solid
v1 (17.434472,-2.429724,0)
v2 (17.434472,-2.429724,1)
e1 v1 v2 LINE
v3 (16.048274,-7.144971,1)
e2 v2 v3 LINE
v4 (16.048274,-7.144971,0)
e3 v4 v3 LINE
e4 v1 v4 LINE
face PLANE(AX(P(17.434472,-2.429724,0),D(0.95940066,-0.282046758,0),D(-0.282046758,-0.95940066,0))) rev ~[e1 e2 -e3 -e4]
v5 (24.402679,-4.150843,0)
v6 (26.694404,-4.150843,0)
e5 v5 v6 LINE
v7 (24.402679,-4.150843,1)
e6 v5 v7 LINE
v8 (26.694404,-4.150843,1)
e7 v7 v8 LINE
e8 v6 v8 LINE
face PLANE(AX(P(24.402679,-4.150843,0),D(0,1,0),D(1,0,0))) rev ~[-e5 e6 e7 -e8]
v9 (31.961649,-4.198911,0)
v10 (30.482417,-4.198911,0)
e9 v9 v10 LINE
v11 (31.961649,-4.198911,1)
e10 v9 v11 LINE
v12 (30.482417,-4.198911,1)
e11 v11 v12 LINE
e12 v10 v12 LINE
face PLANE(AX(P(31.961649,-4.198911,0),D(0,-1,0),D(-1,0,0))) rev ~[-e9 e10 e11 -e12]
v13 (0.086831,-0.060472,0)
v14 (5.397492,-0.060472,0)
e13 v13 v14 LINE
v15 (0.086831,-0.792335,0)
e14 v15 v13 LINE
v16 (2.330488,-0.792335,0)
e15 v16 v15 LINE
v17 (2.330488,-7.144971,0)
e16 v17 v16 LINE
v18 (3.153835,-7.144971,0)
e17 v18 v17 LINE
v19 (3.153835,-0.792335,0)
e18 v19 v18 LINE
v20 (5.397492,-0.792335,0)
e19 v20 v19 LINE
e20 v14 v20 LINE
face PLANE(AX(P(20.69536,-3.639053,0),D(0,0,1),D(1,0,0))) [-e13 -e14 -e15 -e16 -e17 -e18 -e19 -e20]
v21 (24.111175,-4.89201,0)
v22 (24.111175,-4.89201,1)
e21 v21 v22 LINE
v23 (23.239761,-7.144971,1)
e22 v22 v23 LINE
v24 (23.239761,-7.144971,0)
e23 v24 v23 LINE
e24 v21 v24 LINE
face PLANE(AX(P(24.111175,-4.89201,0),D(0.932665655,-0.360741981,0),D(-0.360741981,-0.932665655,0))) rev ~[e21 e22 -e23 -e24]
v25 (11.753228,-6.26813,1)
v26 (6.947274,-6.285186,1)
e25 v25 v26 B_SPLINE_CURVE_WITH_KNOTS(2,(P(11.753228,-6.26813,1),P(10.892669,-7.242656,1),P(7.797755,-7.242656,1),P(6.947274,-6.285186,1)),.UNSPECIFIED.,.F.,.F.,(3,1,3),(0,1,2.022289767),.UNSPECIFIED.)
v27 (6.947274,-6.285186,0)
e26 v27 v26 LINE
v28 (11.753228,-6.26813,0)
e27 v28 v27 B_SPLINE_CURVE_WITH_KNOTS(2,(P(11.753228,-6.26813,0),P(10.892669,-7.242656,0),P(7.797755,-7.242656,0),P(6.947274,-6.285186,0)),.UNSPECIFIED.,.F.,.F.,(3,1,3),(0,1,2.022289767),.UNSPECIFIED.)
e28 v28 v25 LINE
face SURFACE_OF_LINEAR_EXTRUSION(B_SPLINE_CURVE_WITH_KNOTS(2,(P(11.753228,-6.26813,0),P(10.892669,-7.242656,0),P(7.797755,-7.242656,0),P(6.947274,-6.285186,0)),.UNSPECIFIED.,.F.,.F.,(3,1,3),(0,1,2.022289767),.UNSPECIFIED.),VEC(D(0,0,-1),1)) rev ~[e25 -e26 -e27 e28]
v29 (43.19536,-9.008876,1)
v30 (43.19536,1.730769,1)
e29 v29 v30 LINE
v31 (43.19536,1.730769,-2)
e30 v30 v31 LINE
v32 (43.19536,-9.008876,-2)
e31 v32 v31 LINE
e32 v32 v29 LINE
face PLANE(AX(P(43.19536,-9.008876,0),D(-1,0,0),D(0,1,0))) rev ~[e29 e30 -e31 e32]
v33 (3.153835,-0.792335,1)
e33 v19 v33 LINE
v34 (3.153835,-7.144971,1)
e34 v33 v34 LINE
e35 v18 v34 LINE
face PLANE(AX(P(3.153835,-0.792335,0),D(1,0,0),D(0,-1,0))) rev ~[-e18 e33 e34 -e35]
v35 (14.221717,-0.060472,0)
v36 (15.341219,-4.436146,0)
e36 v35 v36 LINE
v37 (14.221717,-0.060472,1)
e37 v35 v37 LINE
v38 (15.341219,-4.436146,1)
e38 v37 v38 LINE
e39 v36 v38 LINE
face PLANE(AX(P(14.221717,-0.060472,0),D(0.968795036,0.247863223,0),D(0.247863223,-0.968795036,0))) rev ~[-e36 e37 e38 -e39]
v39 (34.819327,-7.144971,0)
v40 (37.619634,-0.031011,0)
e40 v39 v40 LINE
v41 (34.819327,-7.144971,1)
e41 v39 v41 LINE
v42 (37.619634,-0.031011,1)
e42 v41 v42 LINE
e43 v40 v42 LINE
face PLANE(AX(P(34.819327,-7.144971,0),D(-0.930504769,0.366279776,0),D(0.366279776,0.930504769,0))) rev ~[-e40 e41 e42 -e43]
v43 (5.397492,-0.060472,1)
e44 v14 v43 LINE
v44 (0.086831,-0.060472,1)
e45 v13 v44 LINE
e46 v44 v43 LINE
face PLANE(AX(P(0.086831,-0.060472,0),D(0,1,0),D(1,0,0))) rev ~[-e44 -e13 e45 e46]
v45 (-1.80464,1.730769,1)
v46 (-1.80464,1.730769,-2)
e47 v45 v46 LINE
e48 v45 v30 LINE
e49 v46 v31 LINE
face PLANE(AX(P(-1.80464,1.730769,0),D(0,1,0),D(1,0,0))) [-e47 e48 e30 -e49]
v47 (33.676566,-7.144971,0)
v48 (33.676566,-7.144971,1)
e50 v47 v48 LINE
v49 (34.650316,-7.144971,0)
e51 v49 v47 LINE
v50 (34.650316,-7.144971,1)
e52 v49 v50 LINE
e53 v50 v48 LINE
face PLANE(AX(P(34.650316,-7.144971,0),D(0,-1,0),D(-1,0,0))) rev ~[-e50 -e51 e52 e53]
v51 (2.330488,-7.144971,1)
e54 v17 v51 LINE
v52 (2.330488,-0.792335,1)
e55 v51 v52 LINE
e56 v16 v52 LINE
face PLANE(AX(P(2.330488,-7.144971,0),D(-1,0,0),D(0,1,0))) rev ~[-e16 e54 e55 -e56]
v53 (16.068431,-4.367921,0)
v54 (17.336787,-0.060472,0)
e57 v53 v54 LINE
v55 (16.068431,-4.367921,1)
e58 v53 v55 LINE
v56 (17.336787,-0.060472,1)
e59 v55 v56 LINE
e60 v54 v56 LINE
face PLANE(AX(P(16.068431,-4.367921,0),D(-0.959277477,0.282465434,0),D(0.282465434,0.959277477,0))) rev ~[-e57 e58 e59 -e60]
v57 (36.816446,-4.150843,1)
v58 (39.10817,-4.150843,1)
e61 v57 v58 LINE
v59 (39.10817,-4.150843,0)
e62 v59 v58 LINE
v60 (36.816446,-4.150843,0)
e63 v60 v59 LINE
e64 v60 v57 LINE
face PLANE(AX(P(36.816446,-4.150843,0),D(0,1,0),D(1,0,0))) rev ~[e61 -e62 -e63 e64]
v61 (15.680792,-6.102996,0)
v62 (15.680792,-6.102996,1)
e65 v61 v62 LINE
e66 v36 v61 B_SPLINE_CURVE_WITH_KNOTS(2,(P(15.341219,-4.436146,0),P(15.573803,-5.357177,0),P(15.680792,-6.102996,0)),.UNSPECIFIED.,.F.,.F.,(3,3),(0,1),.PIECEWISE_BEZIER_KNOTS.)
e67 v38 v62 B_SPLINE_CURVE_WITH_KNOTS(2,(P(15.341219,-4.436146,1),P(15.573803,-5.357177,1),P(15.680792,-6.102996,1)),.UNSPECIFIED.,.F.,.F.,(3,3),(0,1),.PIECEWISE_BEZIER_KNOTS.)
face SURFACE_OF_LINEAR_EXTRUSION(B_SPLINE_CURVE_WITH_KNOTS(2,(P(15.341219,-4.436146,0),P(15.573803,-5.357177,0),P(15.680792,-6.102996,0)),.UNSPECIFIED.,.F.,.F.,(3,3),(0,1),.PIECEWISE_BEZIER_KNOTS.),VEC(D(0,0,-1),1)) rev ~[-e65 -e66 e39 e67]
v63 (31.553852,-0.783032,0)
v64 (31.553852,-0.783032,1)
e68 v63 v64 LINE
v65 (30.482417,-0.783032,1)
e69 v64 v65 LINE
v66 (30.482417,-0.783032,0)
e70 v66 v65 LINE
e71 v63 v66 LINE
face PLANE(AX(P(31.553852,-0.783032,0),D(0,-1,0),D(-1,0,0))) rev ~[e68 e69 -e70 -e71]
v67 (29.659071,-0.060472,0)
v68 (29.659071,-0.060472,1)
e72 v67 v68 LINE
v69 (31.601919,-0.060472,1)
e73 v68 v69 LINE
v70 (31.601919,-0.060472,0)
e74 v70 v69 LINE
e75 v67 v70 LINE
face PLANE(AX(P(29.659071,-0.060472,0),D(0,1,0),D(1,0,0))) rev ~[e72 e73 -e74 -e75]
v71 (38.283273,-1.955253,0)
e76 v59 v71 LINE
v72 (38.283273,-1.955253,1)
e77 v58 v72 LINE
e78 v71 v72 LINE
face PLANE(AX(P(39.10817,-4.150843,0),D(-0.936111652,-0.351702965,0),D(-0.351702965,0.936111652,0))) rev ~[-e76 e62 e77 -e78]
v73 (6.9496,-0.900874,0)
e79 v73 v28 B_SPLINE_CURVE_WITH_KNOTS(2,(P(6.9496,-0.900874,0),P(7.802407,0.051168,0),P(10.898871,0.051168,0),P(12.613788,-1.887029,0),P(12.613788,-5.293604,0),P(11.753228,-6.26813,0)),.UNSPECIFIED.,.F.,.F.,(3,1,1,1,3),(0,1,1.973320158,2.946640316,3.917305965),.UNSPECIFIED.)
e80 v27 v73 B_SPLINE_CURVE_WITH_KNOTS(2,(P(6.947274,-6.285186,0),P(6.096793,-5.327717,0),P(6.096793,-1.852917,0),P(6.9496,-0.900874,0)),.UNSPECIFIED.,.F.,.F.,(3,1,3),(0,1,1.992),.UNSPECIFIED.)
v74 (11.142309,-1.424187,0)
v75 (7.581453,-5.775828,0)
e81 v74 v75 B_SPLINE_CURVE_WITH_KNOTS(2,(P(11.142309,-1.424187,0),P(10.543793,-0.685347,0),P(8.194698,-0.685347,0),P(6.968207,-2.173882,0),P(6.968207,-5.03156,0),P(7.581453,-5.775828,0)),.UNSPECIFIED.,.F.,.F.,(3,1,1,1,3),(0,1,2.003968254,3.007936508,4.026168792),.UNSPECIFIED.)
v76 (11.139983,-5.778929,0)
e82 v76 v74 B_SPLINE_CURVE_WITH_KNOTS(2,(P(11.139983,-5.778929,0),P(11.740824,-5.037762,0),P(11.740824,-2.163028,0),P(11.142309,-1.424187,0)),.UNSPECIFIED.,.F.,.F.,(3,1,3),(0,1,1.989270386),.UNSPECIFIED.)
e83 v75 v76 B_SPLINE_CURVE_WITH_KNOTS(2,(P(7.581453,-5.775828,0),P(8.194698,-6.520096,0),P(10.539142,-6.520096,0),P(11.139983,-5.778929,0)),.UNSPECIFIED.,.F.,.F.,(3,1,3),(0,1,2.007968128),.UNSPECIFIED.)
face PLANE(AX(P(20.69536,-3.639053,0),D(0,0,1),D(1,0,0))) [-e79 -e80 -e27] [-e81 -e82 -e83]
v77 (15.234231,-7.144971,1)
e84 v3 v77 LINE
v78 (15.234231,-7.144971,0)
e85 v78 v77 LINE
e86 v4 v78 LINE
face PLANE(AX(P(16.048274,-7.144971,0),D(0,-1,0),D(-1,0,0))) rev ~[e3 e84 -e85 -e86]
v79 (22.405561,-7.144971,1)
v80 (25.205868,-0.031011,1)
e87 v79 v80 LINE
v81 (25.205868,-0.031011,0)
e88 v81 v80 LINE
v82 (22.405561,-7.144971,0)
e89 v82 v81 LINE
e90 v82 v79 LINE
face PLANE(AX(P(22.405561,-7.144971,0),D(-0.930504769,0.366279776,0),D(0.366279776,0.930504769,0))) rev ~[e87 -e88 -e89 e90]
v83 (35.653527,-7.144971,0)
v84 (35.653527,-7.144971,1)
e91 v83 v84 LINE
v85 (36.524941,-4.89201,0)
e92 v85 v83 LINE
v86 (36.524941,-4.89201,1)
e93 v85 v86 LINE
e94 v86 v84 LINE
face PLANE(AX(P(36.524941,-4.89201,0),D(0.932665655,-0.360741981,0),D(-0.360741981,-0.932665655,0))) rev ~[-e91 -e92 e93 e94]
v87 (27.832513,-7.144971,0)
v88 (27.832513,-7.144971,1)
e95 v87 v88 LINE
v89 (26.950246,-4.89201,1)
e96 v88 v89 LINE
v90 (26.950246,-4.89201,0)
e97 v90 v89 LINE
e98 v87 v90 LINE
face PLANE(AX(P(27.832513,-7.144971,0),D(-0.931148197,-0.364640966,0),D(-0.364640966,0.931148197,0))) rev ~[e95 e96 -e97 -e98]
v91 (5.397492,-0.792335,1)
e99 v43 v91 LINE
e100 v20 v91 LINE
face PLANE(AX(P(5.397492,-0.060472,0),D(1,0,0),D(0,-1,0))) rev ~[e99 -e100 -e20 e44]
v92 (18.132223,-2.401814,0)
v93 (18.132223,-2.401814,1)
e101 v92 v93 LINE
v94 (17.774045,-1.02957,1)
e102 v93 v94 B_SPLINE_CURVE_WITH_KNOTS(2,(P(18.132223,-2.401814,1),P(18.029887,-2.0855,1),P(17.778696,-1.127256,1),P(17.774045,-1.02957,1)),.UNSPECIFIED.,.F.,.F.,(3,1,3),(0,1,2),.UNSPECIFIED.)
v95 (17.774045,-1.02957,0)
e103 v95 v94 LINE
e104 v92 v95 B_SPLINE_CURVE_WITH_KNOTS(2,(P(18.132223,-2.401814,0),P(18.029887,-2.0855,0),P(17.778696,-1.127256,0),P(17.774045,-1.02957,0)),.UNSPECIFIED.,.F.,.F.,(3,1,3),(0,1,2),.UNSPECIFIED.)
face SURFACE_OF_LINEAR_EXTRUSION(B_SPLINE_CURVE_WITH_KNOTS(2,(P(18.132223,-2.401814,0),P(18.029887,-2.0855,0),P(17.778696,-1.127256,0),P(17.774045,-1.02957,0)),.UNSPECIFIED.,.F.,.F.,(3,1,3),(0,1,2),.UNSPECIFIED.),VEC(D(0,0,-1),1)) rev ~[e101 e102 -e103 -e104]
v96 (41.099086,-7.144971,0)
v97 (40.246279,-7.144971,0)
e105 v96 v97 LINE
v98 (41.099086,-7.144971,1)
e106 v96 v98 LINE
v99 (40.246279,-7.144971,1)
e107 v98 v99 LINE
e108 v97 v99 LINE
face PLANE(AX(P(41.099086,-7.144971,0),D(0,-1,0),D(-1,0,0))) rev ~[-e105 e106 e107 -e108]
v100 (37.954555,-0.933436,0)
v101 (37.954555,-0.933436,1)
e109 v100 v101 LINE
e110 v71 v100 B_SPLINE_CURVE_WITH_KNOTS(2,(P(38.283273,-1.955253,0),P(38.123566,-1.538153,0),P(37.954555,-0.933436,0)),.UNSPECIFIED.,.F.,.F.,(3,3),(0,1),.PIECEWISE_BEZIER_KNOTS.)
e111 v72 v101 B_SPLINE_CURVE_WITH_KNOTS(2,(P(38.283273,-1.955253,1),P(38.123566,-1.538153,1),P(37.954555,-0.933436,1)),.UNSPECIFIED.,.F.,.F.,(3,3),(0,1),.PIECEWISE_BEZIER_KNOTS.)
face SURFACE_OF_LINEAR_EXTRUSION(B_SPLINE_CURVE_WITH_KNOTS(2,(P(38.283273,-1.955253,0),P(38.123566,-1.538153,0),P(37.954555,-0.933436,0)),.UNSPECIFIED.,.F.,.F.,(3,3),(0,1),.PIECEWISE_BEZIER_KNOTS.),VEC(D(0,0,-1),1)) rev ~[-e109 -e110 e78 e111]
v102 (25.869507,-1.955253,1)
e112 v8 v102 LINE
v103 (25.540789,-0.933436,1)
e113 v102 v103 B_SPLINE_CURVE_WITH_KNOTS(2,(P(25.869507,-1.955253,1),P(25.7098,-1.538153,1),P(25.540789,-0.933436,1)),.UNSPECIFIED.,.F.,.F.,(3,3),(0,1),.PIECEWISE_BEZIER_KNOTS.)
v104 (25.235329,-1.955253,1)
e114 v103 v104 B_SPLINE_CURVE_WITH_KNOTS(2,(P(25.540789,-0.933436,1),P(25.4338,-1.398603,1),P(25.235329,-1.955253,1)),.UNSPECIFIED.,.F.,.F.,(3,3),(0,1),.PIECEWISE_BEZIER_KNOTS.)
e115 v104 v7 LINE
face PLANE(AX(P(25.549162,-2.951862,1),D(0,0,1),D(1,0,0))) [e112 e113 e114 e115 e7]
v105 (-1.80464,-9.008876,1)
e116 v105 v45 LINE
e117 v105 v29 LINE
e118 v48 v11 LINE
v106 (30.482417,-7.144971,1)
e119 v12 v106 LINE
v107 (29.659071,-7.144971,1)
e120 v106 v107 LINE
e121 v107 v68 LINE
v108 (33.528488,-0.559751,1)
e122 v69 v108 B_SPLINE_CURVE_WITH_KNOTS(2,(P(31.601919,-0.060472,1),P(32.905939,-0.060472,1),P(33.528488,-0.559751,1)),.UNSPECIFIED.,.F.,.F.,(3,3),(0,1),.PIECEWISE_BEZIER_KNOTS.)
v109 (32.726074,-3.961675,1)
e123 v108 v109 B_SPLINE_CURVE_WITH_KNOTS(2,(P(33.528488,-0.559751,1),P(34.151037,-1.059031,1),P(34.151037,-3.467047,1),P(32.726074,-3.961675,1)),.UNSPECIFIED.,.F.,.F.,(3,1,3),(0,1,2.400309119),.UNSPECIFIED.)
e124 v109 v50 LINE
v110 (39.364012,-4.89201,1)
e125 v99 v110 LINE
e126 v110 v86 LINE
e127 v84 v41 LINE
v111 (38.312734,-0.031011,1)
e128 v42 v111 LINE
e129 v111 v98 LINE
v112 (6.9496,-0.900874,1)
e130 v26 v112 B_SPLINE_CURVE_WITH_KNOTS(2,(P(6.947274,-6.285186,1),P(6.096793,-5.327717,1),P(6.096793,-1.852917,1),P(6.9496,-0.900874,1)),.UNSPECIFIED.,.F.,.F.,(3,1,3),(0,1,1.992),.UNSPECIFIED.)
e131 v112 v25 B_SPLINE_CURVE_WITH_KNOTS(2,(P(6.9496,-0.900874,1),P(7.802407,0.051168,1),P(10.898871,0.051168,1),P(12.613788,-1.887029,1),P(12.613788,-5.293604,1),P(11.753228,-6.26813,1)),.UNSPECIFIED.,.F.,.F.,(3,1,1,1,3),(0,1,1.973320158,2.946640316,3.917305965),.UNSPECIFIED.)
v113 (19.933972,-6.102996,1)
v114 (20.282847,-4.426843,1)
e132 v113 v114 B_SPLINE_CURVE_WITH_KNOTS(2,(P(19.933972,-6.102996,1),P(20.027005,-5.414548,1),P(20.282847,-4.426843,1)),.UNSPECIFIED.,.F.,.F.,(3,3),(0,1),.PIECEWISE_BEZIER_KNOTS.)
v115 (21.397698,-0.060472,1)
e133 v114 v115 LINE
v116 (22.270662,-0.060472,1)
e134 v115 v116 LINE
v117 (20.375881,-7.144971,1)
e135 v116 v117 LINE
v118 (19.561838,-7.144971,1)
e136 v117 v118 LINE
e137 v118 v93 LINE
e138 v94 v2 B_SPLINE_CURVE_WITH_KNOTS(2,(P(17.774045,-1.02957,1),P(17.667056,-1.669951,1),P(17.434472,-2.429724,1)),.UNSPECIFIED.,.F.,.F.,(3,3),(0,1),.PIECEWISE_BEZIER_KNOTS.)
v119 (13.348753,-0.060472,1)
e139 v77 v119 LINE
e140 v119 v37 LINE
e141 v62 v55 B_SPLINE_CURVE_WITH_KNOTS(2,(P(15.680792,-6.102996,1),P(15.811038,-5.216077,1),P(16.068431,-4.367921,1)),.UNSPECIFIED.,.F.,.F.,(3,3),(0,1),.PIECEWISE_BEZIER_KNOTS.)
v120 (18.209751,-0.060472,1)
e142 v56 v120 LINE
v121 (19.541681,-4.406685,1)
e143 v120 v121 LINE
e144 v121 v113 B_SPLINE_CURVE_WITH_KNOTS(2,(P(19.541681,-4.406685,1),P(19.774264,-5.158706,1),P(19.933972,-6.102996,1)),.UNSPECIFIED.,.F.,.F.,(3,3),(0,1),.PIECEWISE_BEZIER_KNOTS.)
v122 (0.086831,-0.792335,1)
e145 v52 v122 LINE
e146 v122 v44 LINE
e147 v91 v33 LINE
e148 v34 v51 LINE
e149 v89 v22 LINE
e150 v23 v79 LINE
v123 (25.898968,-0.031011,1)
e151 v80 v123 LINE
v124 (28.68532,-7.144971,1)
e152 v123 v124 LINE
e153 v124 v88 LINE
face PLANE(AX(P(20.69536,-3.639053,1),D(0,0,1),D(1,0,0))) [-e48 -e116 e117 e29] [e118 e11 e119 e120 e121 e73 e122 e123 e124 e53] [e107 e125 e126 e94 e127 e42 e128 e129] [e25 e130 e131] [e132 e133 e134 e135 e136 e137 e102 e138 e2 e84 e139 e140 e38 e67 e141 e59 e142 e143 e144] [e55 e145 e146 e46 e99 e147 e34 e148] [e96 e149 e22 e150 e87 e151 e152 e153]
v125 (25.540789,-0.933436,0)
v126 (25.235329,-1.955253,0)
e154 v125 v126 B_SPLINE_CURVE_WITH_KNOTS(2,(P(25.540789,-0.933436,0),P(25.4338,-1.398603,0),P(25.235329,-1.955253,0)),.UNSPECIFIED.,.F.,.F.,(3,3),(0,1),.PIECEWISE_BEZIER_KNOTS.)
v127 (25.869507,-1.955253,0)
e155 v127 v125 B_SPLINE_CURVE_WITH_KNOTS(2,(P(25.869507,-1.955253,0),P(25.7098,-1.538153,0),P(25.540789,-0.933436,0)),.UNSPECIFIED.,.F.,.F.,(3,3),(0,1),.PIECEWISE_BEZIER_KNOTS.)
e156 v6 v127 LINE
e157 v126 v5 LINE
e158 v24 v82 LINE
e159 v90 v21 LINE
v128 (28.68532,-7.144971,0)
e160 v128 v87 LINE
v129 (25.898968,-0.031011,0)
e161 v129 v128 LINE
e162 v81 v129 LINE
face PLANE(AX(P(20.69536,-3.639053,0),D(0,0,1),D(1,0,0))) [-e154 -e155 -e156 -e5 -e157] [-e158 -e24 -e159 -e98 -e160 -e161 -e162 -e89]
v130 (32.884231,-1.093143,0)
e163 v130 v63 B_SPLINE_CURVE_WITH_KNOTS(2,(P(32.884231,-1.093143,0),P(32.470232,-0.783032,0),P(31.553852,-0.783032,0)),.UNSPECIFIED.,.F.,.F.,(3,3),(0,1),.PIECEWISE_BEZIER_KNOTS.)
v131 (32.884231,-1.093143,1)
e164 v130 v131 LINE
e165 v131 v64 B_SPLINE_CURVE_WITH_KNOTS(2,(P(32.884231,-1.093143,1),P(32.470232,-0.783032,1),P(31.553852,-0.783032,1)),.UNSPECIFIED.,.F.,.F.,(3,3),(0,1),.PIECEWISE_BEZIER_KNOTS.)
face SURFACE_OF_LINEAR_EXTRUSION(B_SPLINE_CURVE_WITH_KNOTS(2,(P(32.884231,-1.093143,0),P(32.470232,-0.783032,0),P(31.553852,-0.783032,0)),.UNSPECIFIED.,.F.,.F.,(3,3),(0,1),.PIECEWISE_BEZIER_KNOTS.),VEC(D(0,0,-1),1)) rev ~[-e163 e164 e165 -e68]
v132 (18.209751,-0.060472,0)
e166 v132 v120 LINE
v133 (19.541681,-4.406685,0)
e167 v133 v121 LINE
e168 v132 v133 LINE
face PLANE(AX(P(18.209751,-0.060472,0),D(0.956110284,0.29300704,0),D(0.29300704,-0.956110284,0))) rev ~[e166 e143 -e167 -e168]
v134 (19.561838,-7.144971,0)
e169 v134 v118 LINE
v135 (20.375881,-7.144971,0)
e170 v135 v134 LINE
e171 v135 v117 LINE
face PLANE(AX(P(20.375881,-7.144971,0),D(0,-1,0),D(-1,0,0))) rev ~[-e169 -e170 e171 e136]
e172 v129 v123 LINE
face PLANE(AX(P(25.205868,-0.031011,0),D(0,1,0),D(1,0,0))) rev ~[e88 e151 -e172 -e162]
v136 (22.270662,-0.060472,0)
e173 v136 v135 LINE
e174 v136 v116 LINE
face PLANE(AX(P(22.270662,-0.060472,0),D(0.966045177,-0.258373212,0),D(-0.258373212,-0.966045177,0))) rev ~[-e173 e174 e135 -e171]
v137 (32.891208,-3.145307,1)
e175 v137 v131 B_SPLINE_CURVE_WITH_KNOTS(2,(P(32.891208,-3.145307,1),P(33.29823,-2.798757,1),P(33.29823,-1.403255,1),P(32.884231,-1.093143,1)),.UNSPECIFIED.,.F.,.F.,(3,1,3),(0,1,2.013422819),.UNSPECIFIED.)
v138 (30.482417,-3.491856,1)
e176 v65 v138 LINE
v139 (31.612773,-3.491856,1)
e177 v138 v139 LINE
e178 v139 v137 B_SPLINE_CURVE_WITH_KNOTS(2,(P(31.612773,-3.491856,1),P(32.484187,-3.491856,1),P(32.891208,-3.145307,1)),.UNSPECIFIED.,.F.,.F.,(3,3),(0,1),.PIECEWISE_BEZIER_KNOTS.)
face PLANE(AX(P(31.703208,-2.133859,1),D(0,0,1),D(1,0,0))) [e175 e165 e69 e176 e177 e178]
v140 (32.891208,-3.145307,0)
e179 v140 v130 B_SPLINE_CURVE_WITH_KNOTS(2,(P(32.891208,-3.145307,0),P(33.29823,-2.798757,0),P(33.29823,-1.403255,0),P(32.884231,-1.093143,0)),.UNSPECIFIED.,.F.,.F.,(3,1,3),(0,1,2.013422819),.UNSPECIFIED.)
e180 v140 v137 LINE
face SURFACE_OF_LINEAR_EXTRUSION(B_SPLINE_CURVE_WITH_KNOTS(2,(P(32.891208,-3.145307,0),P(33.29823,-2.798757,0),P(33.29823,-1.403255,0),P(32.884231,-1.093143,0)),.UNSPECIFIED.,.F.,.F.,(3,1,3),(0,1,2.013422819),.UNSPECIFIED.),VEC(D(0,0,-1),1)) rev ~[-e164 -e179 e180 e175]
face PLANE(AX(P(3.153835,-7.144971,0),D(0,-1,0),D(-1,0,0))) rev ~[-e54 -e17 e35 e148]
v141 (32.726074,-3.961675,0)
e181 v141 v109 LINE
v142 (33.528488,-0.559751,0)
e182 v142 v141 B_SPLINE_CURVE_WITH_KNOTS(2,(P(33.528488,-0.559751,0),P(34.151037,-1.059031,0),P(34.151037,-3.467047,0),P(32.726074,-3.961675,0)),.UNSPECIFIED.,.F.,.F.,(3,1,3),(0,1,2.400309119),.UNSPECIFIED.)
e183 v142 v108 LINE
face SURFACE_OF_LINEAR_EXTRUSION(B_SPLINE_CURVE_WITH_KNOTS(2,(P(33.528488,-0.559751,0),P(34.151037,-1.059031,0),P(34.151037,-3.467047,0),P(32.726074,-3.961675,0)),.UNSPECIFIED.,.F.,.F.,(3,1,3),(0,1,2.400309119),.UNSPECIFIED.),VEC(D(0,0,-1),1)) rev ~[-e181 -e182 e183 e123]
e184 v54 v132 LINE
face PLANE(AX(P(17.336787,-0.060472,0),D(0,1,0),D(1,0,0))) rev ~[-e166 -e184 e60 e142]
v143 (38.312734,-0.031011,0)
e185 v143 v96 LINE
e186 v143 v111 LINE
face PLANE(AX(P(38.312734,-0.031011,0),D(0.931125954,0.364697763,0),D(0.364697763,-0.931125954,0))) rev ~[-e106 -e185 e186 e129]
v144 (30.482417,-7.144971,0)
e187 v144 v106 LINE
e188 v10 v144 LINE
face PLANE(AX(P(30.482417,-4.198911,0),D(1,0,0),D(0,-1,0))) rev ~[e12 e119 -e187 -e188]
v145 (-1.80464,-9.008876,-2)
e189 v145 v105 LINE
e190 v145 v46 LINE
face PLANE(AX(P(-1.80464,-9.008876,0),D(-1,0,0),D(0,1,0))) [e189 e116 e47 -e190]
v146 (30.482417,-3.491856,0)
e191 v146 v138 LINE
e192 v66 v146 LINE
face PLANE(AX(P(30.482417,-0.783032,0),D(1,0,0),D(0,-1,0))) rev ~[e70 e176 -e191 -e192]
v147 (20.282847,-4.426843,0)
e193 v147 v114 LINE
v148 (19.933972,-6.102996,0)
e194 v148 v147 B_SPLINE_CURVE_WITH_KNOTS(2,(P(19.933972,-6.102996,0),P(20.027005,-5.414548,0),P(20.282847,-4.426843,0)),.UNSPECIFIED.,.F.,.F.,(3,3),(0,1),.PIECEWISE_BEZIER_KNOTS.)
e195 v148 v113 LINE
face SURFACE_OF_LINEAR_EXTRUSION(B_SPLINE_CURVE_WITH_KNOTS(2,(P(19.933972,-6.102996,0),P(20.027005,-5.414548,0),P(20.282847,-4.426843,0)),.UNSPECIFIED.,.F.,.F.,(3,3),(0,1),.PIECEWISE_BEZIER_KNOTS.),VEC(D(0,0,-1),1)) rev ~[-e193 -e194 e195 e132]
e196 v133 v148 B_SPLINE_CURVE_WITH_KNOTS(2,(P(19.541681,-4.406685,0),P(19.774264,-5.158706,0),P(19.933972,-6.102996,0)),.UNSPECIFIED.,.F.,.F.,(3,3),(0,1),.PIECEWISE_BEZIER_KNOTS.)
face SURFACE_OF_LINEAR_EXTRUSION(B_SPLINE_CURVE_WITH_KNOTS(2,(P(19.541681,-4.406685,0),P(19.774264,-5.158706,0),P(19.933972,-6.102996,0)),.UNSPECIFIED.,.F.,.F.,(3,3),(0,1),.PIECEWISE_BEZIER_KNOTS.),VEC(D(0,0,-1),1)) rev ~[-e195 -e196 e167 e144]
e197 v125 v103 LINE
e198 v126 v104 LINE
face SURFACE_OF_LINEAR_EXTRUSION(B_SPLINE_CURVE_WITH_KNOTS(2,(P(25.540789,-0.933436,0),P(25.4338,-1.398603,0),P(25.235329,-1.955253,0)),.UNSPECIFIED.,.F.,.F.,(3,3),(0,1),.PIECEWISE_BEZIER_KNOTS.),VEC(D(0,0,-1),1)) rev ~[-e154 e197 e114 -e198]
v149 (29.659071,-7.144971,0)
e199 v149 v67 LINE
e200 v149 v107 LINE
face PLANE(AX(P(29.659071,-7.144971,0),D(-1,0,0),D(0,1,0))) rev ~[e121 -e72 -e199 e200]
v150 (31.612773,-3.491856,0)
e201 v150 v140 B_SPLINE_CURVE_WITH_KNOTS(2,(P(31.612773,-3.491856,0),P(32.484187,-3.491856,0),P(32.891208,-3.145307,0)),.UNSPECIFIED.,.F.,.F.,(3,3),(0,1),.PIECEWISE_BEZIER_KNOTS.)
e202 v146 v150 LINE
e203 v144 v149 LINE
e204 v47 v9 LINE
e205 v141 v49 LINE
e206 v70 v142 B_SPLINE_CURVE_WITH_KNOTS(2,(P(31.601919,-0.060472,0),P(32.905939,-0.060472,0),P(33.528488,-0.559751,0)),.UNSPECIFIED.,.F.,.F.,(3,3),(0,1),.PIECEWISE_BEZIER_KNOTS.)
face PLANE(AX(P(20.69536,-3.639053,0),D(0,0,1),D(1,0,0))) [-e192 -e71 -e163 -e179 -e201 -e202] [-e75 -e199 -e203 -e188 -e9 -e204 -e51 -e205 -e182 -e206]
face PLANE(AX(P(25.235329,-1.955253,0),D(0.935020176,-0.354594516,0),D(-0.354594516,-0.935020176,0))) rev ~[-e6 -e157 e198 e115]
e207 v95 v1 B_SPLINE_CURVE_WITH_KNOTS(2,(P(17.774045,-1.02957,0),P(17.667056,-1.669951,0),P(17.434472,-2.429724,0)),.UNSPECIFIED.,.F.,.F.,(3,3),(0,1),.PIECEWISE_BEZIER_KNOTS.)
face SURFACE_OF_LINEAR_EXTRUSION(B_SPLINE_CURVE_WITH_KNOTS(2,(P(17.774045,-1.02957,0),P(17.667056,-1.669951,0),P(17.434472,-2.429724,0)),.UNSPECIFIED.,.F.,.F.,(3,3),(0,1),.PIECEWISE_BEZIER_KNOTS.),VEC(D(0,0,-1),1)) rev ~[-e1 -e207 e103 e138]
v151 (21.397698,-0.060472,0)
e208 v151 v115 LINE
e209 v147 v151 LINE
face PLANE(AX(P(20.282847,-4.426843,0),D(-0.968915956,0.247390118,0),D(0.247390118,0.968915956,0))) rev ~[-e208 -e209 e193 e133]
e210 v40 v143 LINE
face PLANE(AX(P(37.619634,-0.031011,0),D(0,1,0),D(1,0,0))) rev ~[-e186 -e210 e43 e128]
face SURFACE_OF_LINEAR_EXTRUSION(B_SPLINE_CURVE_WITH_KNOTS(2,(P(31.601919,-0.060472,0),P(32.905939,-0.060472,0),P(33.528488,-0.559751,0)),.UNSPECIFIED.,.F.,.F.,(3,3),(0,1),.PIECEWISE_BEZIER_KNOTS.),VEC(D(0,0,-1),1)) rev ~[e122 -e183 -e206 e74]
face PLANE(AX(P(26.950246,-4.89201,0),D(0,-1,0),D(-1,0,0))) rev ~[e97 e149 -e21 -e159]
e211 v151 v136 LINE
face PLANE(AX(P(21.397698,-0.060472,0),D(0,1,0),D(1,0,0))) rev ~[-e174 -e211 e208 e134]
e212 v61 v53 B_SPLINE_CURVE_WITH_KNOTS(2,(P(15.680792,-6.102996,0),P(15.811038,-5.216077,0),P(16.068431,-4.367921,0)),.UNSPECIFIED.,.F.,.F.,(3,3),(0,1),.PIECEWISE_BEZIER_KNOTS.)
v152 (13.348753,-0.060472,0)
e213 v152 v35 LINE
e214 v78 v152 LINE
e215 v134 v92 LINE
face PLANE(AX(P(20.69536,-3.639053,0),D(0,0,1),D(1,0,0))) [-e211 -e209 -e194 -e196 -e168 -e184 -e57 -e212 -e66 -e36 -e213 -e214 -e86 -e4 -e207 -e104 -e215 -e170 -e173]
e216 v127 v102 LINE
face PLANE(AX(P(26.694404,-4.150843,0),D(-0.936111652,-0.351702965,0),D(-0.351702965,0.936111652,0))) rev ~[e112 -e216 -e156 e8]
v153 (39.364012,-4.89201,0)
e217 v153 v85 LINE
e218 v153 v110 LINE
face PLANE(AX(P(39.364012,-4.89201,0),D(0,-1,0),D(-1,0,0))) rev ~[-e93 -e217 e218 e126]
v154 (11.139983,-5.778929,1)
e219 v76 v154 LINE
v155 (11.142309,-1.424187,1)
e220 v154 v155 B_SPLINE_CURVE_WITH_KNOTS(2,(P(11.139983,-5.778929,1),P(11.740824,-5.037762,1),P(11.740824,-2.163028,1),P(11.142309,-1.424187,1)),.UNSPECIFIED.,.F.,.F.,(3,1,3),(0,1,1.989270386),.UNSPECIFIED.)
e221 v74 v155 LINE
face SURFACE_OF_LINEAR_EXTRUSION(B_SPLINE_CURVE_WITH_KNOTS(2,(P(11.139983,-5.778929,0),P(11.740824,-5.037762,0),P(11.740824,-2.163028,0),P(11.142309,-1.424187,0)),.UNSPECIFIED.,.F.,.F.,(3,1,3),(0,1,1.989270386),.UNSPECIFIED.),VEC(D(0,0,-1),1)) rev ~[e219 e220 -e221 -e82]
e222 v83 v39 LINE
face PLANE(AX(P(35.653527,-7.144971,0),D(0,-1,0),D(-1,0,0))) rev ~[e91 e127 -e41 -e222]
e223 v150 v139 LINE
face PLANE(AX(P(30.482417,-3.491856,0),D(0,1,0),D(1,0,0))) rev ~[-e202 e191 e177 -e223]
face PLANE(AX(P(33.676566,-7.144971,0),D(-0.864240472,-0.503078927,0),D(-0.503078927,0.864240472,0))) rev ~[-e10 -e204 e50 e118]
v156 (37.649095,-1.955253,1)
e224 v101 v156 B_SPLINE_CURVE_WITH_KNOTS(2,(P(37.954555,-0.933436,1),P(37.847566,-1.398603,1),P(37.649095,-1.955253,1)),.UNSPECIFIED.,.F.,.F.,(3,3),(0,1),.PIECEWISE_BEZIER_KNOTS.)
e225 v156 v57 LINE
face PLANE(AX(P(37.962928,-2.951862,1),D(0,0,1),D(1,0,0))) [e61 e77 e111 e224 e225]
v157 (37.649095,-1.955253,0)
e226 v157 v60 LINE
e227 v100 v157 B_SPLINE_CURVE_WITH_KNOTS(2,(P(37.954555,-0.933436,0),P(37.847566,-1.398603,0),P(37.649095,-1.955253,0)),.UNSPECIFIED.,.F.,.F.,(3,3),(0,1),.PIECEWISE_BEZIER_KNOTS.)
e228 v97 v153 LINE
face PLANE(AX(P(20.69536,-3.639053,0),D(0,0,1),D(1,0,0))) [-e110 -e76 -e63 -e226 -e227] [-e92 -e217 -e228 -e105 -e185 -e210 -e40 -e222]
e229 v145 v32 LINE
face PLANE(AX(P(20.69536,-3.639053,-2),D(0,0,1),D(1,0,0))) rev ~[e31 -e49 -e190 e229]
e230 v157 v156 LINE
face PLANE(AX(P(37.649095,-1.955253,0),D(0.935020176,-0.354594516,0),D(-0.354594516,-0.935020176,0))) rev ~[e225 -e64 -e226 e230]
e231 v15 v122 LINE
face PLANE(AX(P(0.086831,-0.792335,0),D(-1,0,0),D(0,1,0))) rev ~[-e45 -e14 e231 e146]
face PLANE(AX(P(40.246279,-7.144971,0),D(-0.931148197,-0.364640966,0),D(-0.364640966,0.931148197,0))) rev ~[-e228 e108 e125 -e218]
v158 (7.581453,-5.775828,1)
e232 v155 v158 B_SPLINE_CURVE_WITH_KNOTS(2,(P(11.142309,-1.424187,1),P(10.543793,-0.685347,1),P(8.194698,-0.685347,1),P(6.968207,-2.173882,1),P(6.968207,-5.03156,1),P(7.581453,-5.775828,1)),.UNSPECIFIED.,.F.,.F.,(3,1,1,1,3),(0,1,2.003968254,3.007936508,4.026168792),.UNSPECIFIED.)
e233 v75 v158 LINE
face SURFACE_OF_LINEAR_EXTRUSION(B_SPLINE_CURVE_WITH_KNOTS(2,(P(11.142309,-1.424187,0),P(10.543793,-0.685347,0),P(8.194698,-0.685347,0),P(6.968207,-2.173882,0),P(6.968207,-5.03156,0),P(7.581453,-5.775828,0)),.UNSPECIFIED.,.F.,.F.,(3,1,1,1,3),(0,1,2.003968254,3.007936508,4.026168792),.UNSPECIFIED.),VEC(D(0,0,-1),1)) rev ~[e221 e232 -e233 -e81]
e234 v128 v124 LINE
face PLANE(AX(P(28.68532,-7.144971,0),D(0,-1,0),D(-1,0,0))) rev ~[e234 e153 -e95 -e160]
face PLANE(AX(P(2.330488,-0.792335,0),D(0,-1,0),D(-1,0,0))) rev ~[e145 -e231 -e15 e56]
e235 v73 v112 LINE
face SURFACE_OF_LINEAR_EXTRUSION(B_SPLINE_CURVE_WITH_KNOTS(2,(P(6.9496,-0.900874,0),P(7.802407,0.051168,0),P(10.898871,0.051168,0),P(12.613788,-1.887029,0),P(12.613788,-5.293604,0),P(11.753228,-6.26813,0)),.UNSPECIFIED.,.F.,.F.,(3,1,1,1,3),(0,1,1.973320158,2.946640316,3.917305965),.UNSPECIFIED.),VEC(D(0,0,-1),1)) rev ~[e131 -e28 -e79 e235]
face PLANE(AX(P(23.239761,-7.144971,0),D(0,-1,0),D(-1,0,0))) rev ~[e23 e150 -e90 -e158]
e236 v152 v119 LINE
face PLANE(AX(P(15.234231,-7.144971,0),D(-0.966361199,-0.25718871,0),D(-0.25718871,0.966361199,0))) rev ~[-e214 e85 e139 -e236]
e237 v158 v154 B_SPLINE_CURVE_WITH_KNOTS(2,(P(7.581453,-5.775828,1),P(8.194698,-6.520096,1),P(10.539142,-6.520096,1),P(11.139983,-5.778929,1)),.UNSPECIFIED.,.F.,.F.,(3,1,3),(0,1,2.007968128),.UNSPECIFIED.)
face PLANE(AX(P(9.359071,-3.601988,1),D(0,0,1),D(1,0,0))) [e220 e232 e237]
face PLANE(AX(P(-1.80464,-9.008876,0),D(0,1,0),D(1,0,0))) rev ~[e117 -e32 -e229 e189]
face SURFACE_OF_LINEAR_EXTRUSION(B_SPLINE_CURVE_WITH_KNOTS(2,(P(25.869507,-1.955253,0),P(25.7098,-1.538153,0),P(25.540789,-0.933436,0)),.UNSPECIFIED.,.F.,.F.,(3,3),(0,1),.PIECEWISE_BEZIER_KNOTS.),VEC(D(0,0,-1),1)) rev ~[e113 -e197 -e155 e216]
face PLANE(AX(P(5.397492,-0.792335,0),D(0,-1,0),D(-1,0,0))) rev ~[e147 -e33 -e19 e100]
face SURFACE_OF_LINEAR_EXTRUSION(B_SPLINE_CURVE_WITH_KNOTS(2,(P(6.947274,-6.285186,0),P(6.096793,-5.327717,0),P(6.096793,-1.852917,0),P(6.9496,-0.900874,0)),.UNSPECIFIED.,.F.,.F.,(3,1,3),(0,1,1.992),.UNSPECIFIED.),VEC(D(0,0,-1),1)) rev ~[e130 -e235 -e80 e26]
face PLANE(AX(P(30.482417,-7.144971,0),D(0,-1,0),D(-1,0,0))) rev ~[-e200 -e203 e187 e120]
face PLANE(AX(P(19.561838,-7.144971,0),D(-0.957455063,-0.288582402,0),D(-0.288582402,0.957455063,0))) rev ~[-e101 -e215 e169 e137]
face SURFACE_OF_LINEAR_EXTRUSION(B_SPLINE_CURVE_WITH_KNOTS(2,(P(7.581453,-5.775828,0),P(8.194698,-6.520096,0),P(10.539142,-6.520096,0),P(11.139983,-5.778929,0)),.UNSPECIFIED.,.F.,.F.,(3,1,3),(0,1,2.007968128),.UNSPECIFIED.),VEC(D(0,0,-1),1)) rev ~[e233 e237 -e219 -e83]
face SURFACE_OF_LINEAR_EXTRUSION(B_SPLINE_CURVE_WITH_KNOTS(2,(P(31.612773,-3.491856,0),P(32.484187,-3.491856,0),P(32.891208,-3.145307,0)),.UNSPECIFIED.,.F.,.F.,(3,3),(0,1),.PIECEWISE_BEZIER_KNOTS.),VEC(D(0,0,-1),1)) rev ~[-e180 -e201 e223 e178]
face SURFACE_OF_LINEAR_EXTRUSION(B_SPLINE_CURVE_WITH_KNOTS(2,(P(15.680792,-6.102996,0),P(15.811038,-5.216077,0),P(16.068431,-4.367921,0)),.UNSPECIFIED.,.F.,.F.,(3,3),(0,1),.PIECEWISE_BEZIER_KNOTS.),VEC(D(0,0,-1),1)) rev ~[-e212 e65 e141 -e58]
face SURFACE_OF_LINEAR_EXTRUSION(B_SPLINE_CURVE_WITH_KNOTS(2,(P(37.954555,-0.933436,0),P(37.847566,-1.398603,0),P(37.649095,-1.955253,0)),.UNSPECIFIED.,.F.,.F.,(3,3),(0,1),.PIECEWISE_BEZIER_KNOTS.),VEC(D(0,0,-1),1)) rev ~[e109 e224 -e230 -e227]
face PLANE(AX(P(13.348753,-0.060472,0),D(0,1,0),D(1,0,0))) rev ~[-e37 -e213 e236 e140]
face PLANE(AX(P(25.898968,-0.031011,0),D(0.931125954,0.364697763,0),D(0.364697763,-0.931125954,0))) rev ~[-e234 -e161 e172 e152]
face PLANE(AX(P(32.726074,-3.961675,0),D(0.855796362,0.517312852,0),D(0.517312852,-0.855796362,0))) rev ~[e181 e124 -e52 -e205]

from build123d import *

# Parameters (mm, degrees)
F2_W     = 45
F2_H     = 10.7396448086
F3_DEPTH = 2
F0_W     = 45
F0_H     = 10.7396448086
F4_DEPTH = 1


with BuildPart() as f3:
    # F2 (on offset) → F3 (new body)
    with BuildSketch(Plane.XY.offset(-2)):
        with Locations((20.6953600791, -3.6390531603)):
            Rectangle(F2_W, F2_H)
    extrude(amount=F3_DEPTH)

    # F0 (on Top) → F4 (join)
    with BuildSketch(Plane.XY):
        with Locations((20.6953600791, -3.6390531603)):
            Rectangle(F0_W, F0_H)
        Polygon((3.1538346612, -0.7923350599), (3.1538346612, -7.1449705598), (2.3304884443, -7.1449705598), (2.3304884443, -0.7923350599), (0.0868312394, -0.7923350599), (0.0868312394, -0.060471756), (5.397491866, -0.060471756), (5.397491866, -0.7923350599), align=None, mode=Mode.SUBTRACT)
        with BuildLine():
            add(Edge.make_bspline(
                [(11.7563295973, -0.9179302455), (12.6137880868, -1.8870289), (12.6137880868, -3.5926425319)],
                knots=[0, 0, 0, 1, 1, 1], degree=2))
            add(Edge.make_bspline(
                [(12.6137880868, -3.5926425319), (12.6137880868, -5.2936044903), (11.7532284816, -6.2681300972)],
                knots=[0, 0, 0, 1, 1, 1], degree=2))
            add(Edge.make_bspline(
                [(11.7532284816, -6.2681300972), (10.8926688764, -7.2426557042), (9.3622682813, -7.2426557042)],
                knots=[0, 0, 0, 1, 1, 1], degree=2))
            add(Edge.make_bspline(
                [(9.3622682813, -7.2426557042), (7.7977554135, -7.2426557042), (6.9472744343, -6.2851862335)],
                knots=[0, 0, 0, 1, 1, 1], degree=2))
            add(Edge.make_bspline(
                [(6.9472744343, -6.2851862335), (6.0967934551, -5.3277167629), (6.0967934551, -3.5833391848)],
                knots=[0, 0, 0, 1, 1, 1], degree=2))
            add(Edge.make_bspline(
                [(6.0967934551, -3.5833391848), (6.0967934551, -1.8529166274), (6.9496002711, -0.9008741092)],
                knots=[0, 0, 0, 1, 1, 1], degree=2))
            add(Edge.make_bspline(
                [(6.9496002711, -0.9008741092), (7.802407087, 0.051168409), (9.3715716284, 0.051168409)],
                knots=[0, 0, 0, 1, 1, 1], degree=2))
            add(Edge.make_bspline(
                [(9.3715716284, 0.051168409), (10.8988711078, 0.051168409), (11.7563295973, -0.9179302455)],
                knots=[0, 0, 0, 1, 1, 1], degree=2))
        make_face(mode=Mode.SUBTRACT)
        with BuildLine():
            Line((22.2706623591, -0.060471756), (20.3758806698, -7.1449705598))
            Line((20.3758806698, -7.1449705598), (19.5618378, -7.1449705598))
            Line((19.5618378, -7.1449705598), (18.1322234649, -2.4018141053))
            add(Edge.make_bspline(
                [(18.1322234649, -2.4018141053), (18.029886647, -2.0855003045), (17.9042914614, -1.6063779297)],
                knots=[0, 0, 0, 1, 1, 1], degree=2))
            add(Edge.make_bspline(
                [(17.9042914614, -1.6063779297), (17.7786962758, -1.1272555549), (17.7740446022, -1.0295704105)],
                knots=[0, 0, 0, 1, 1, 1], degree=2))
            add(Edge.make_bspline(
                [(17.7740446022, -1.0295704105), (17.6670561108, -1.6699508014), (17.4344724337, -2.4297241465)],
                knots=[0, 0, 0, 1, 1, 1], degree=2))
            Line((17.4344724337, -2.4297241465), (16.0482737183, -7.1449705598))
            Line((16.0482737183, -7.1449705598), (15.2342308486, -7.1449705598))
            Line((15.2342308486, -7.1449705598), (13.3487525064, -0.060471756))
            Line((13.3487525064, -0.060471756), (14.2217165743, -0.060471756))
            Line((14.2217165743, -0.060471756), (15.34121934, -4.4361460008))
            add(Edge.make_bspline(
                [(15.34121934, -4.4361460008), (15.5738030171, -5.357177362), (15.6807915085, -6.1029956865)],
                knots=[0, 0, 0, 1, 1, 1], degree=2))
            add(Edge.make_bspline(
                [(15.6807915085, -6.1029956865), (15.8110383677, -5.2160765979), (16.0684309703, -4.3679214555)],
                knots=[0, 0, 0, 1, 1, 1], degree=2))
            Line((16.0684309703, -4.3679214555), (17.3367872893, -0.060471756))
            Line((17.3367872893, -0.060471756), (18.2097513573, -0.060471756))
            Line((18.2097513573, -0.060471756), (19.541680548, -4.4066854017))
            add(Edge.make_bspline(
                [(19.541680548, -4.4066854017), (19.7742642251, -5.1587059576), (19.9339716834, -6.1029956865)],
                knots=[0, 0, 0, 1, 1, 1], degree=2))
            add(Edge.make_bspline(
                [(19.9339716834, -6.1029956865), (20.0270051542, -5.4145480024), (20.282847199, -4.4268426537)],
                knots=[0, 0, 0, 1, 1, 1], degree=2))
            Line((20.282847199, -4.4268426537), (21.3976982911, -0.060471756))
            Line((21.3976982911, -0.060471756), (22.2706623591, -0.060471756))
        make_face(mode=Mode.SUBTRACT)
        Polygon((28.6853201729, -7.1449705598), (27.8325133569, -7.1449705598), (26.9502459419, -4.8920100079), (24.1111745237, -4.8920100079), (23.2397610136, -7.1449705598), (22.4055608918, -7.1449705598), (25.2058683638, -0.0310111569), (25.8989677215, -0.0310111569), align=None, mode=Mode.SUBTRACT)
        with BuildLine():
            Line((31.961648904, -4.1989106502), (30.4824167177, -4.1989106502))
            Line((30.4824167177, -4.1989106502), (30.4824167177, -7.1449705598))
            Line((30.4824167177, -7.1449705598), (29.6590705009, -7.1449705598))
            Line((29.6590705009, -7.1449705598), (29.6590705009, -0.060471756))
            Line((29.6590705009, -0.060471756), (31.6019194834, -0.060471756))
            add(Edge.make_bspline(
                [(31.6019194834, -0.060471756), (32.9059386329, -0.060471756), (33.5284876085, -0.5597513828)],
                knots=[0, 0, 0, 1, 1, 1], degree=2))
            add(Edge.make_bspline(
                [(33.5284876085, -0.5597513828), (34.1510365842, -1.0590310096), (34.1510365842, -2.0622419368)],
                knots=[0, 0, 0, 1, 1, 1], degree=2))
            add(Edge.make_bspline(
                [(34.1510365842, -2.0622419368), (34.1510365842, -3.4670473463), (32.7260739226, -3.9616752995)],
                knots=[0, 0, 0, 1, 1, 1], degree=2))
            Line((32.7260739226, -3.9616752995), (34.650316211, -7.1449705598))
            Line((34.650316211, -7.1449705598), (33.6765658829, -7.1449705598))
            Line((33.6765658829, -7.1449705598), (31.961648904, -4.1989106502))
        make_face(mode=Mode.SUBTRACT)
        Polygon((41.0990862974, -7.1449705598), (40.2462794814, -7.1449705598), (39.3640120664, -4.8920100079), (36.5249406482, -4.8920100079), (35.6535271381, -7.1449705598), (34.8193270163, -7.1449705598), (37.6196344883, -0.0310111569), (38.312733846, -0.0310111569), align=None, mode=Mode.SUBTRACT)
        with BuildLine():
            add(Edge.make_bspline(
                [(7.5814525938, -1.4296143351), (6.9682069652, -2.1738821017), (6.9682069652, -3.5926425319)],
                knots=[0, 0, 0, 1, 1, 1], degree=2))
            add(Edge.make_bspline(
                [(6.9682069652, -3.5926425319), (6.9682069652, -5.0315602141), (7.5814525938, -5.7758279808)],
                knots=[0, 0, 0, 1, 1, 1], degree=2))
            add(Edge.make_bspline(
                [(7.5814525938, -5.7758279808), (8.1946982224, -6.5200957474), (9.3622682813, -6.5200957474)],
                knots=[0, 0, 0, 1, 1, 1], degree=2))
            add(Edge.make_bspline(
                [(9.3622682813, -6.5200957474), (10.5391416873, -6.5200957474), (11.1399828531, -5.7789290964)],
                knots=[0, 0, 0, 1, 1, 1], degree=2))
            add(Edge.make_bspline(
                [(11.1399828531, -5.7789290964), (11.7408240189, -5.0377624455), (11.7408240189, -3.5926425319)],
                knots=[0, 0, 0, 1, 1, 1], degree=2))
            add(Edge.make_bspline(
                [(11.7408240189, -3.5926425319), (11.7408240189, -2.1630281968), (11.1423086898, -1.4241873826)],
                knots=[0, 0, 0, 1, 1, 1], degree=2))
            add(Edge.make_bspline(
                [(11.1423086898, -1.4241873826), (10.5437933608, -0.6853465685), (9.3715716284, -0.6853465685)],
                knots=[0, 0, 0, 1, 1, 1], degree=2))
            add(Edge.make_bspline(
                [(9.3715716284, -0.6853465685), (8.1946982224, -0.6853465685), (7.5814525938, -1.4296143351)],
                knots=[0, 0, 0, 1, 1, 1], degree=2))
        make_face()
        with BuildLine():
            Line((24.4026793989, -4.1508433569), (26.6944038971, -4.1508433569))
            Line((26.6944038971, -4.1508433569), (25.8695071224, -1.9552534453))
            add(Edge.make_bspline(
                [(25.8695071224, -1.9552534453), (25.7097996641, -1.5381533844), (25.5407888588, -0.933435824)],
                knots=[0, 0, 0, 1, 1, 1], degree=2))
            add(Edge.make_bspline(
                [(25.5407888588, -0.933435824), (25.4338003673, -1.3986031782), (25.2353289629, -1.9552534453)],
                knots=[0, 0, 0, 1, 1, 1], degree=2))
            Line((25.2353289629, -1.9552534453), (24.4026793989, -4.1508433569))
        make_face()
        with BuildLine():
            Line((30.4824167177, -0.7830317128), (30.4824167177, -3.4918562719))
            Line((30.4824167177, -3.4918562719), (31.6127733883, -3.4918562719))
            add(Edge.make_bspline(
                [(31.6127733883, -3.4918562719), (32.4841868985, -3.4918562719), (32.8912083333, -3.145306593)],
                knots=[0, 0, 0, 1, 1, 1], degree=2))
            add(Edge.make_bspline(
                [(32.8912083333, -3.145306593), (33.2982297682, -2.7987569142), (33.2982297682, -2.1056575565)],
                knots=[0, 0, 0, 1, 1, 1], degree=2))
            add(Edge.make_bspline(
                [(33.2982297682, -2.1056575565), (33.2982297682, -1.4032548517), (32.884230823, -1.0931432823)],
                knots=[0, 0, 0, 1, 1, 1], degree=2))
            add(Edge.make_bspline(
                [(32.884230823, -1.0931432823), (32.4702318778, -0.7830317128), (31.5538521901, -0.7830317128)],
                knots=[0, 0, 0, 1, 1, 1], degree=2))
            Line((31.5538521901, -0.7830317128), (30.4824167177, -0.7830317128))
        make_face()
        with BuildLine():
            Line((36.8164455235, -4.1508433569), (39.1081700216, -4.1508433569))
            Line((39.1081700216, -4.1508433569), (38.2832732469, -1.9552534453))
            add(Edge.make_bspline(
                [(38.2832732469, -1.9552534453), (38.1235657886, -1.5381533844), (37.9545549833, -0.933435824)],
                knots=[0, 0, 0, 1, 1, 1], degree=2))
            add(Edge.make_bspline(
                [(37.9545549833, -0.933435824), (37.8475664919, -1.3986031782), (37.6490950874, -1.9552534453)],
                knots=[0, 0, 0, 1, 1, 1], degree=2))
            Line((37.6490950874, -1.9552534453), (36.8164455235, -4.1508433569))
        make_face()
    extrude(amount=F4_DEPTH)


solid = f3.part
